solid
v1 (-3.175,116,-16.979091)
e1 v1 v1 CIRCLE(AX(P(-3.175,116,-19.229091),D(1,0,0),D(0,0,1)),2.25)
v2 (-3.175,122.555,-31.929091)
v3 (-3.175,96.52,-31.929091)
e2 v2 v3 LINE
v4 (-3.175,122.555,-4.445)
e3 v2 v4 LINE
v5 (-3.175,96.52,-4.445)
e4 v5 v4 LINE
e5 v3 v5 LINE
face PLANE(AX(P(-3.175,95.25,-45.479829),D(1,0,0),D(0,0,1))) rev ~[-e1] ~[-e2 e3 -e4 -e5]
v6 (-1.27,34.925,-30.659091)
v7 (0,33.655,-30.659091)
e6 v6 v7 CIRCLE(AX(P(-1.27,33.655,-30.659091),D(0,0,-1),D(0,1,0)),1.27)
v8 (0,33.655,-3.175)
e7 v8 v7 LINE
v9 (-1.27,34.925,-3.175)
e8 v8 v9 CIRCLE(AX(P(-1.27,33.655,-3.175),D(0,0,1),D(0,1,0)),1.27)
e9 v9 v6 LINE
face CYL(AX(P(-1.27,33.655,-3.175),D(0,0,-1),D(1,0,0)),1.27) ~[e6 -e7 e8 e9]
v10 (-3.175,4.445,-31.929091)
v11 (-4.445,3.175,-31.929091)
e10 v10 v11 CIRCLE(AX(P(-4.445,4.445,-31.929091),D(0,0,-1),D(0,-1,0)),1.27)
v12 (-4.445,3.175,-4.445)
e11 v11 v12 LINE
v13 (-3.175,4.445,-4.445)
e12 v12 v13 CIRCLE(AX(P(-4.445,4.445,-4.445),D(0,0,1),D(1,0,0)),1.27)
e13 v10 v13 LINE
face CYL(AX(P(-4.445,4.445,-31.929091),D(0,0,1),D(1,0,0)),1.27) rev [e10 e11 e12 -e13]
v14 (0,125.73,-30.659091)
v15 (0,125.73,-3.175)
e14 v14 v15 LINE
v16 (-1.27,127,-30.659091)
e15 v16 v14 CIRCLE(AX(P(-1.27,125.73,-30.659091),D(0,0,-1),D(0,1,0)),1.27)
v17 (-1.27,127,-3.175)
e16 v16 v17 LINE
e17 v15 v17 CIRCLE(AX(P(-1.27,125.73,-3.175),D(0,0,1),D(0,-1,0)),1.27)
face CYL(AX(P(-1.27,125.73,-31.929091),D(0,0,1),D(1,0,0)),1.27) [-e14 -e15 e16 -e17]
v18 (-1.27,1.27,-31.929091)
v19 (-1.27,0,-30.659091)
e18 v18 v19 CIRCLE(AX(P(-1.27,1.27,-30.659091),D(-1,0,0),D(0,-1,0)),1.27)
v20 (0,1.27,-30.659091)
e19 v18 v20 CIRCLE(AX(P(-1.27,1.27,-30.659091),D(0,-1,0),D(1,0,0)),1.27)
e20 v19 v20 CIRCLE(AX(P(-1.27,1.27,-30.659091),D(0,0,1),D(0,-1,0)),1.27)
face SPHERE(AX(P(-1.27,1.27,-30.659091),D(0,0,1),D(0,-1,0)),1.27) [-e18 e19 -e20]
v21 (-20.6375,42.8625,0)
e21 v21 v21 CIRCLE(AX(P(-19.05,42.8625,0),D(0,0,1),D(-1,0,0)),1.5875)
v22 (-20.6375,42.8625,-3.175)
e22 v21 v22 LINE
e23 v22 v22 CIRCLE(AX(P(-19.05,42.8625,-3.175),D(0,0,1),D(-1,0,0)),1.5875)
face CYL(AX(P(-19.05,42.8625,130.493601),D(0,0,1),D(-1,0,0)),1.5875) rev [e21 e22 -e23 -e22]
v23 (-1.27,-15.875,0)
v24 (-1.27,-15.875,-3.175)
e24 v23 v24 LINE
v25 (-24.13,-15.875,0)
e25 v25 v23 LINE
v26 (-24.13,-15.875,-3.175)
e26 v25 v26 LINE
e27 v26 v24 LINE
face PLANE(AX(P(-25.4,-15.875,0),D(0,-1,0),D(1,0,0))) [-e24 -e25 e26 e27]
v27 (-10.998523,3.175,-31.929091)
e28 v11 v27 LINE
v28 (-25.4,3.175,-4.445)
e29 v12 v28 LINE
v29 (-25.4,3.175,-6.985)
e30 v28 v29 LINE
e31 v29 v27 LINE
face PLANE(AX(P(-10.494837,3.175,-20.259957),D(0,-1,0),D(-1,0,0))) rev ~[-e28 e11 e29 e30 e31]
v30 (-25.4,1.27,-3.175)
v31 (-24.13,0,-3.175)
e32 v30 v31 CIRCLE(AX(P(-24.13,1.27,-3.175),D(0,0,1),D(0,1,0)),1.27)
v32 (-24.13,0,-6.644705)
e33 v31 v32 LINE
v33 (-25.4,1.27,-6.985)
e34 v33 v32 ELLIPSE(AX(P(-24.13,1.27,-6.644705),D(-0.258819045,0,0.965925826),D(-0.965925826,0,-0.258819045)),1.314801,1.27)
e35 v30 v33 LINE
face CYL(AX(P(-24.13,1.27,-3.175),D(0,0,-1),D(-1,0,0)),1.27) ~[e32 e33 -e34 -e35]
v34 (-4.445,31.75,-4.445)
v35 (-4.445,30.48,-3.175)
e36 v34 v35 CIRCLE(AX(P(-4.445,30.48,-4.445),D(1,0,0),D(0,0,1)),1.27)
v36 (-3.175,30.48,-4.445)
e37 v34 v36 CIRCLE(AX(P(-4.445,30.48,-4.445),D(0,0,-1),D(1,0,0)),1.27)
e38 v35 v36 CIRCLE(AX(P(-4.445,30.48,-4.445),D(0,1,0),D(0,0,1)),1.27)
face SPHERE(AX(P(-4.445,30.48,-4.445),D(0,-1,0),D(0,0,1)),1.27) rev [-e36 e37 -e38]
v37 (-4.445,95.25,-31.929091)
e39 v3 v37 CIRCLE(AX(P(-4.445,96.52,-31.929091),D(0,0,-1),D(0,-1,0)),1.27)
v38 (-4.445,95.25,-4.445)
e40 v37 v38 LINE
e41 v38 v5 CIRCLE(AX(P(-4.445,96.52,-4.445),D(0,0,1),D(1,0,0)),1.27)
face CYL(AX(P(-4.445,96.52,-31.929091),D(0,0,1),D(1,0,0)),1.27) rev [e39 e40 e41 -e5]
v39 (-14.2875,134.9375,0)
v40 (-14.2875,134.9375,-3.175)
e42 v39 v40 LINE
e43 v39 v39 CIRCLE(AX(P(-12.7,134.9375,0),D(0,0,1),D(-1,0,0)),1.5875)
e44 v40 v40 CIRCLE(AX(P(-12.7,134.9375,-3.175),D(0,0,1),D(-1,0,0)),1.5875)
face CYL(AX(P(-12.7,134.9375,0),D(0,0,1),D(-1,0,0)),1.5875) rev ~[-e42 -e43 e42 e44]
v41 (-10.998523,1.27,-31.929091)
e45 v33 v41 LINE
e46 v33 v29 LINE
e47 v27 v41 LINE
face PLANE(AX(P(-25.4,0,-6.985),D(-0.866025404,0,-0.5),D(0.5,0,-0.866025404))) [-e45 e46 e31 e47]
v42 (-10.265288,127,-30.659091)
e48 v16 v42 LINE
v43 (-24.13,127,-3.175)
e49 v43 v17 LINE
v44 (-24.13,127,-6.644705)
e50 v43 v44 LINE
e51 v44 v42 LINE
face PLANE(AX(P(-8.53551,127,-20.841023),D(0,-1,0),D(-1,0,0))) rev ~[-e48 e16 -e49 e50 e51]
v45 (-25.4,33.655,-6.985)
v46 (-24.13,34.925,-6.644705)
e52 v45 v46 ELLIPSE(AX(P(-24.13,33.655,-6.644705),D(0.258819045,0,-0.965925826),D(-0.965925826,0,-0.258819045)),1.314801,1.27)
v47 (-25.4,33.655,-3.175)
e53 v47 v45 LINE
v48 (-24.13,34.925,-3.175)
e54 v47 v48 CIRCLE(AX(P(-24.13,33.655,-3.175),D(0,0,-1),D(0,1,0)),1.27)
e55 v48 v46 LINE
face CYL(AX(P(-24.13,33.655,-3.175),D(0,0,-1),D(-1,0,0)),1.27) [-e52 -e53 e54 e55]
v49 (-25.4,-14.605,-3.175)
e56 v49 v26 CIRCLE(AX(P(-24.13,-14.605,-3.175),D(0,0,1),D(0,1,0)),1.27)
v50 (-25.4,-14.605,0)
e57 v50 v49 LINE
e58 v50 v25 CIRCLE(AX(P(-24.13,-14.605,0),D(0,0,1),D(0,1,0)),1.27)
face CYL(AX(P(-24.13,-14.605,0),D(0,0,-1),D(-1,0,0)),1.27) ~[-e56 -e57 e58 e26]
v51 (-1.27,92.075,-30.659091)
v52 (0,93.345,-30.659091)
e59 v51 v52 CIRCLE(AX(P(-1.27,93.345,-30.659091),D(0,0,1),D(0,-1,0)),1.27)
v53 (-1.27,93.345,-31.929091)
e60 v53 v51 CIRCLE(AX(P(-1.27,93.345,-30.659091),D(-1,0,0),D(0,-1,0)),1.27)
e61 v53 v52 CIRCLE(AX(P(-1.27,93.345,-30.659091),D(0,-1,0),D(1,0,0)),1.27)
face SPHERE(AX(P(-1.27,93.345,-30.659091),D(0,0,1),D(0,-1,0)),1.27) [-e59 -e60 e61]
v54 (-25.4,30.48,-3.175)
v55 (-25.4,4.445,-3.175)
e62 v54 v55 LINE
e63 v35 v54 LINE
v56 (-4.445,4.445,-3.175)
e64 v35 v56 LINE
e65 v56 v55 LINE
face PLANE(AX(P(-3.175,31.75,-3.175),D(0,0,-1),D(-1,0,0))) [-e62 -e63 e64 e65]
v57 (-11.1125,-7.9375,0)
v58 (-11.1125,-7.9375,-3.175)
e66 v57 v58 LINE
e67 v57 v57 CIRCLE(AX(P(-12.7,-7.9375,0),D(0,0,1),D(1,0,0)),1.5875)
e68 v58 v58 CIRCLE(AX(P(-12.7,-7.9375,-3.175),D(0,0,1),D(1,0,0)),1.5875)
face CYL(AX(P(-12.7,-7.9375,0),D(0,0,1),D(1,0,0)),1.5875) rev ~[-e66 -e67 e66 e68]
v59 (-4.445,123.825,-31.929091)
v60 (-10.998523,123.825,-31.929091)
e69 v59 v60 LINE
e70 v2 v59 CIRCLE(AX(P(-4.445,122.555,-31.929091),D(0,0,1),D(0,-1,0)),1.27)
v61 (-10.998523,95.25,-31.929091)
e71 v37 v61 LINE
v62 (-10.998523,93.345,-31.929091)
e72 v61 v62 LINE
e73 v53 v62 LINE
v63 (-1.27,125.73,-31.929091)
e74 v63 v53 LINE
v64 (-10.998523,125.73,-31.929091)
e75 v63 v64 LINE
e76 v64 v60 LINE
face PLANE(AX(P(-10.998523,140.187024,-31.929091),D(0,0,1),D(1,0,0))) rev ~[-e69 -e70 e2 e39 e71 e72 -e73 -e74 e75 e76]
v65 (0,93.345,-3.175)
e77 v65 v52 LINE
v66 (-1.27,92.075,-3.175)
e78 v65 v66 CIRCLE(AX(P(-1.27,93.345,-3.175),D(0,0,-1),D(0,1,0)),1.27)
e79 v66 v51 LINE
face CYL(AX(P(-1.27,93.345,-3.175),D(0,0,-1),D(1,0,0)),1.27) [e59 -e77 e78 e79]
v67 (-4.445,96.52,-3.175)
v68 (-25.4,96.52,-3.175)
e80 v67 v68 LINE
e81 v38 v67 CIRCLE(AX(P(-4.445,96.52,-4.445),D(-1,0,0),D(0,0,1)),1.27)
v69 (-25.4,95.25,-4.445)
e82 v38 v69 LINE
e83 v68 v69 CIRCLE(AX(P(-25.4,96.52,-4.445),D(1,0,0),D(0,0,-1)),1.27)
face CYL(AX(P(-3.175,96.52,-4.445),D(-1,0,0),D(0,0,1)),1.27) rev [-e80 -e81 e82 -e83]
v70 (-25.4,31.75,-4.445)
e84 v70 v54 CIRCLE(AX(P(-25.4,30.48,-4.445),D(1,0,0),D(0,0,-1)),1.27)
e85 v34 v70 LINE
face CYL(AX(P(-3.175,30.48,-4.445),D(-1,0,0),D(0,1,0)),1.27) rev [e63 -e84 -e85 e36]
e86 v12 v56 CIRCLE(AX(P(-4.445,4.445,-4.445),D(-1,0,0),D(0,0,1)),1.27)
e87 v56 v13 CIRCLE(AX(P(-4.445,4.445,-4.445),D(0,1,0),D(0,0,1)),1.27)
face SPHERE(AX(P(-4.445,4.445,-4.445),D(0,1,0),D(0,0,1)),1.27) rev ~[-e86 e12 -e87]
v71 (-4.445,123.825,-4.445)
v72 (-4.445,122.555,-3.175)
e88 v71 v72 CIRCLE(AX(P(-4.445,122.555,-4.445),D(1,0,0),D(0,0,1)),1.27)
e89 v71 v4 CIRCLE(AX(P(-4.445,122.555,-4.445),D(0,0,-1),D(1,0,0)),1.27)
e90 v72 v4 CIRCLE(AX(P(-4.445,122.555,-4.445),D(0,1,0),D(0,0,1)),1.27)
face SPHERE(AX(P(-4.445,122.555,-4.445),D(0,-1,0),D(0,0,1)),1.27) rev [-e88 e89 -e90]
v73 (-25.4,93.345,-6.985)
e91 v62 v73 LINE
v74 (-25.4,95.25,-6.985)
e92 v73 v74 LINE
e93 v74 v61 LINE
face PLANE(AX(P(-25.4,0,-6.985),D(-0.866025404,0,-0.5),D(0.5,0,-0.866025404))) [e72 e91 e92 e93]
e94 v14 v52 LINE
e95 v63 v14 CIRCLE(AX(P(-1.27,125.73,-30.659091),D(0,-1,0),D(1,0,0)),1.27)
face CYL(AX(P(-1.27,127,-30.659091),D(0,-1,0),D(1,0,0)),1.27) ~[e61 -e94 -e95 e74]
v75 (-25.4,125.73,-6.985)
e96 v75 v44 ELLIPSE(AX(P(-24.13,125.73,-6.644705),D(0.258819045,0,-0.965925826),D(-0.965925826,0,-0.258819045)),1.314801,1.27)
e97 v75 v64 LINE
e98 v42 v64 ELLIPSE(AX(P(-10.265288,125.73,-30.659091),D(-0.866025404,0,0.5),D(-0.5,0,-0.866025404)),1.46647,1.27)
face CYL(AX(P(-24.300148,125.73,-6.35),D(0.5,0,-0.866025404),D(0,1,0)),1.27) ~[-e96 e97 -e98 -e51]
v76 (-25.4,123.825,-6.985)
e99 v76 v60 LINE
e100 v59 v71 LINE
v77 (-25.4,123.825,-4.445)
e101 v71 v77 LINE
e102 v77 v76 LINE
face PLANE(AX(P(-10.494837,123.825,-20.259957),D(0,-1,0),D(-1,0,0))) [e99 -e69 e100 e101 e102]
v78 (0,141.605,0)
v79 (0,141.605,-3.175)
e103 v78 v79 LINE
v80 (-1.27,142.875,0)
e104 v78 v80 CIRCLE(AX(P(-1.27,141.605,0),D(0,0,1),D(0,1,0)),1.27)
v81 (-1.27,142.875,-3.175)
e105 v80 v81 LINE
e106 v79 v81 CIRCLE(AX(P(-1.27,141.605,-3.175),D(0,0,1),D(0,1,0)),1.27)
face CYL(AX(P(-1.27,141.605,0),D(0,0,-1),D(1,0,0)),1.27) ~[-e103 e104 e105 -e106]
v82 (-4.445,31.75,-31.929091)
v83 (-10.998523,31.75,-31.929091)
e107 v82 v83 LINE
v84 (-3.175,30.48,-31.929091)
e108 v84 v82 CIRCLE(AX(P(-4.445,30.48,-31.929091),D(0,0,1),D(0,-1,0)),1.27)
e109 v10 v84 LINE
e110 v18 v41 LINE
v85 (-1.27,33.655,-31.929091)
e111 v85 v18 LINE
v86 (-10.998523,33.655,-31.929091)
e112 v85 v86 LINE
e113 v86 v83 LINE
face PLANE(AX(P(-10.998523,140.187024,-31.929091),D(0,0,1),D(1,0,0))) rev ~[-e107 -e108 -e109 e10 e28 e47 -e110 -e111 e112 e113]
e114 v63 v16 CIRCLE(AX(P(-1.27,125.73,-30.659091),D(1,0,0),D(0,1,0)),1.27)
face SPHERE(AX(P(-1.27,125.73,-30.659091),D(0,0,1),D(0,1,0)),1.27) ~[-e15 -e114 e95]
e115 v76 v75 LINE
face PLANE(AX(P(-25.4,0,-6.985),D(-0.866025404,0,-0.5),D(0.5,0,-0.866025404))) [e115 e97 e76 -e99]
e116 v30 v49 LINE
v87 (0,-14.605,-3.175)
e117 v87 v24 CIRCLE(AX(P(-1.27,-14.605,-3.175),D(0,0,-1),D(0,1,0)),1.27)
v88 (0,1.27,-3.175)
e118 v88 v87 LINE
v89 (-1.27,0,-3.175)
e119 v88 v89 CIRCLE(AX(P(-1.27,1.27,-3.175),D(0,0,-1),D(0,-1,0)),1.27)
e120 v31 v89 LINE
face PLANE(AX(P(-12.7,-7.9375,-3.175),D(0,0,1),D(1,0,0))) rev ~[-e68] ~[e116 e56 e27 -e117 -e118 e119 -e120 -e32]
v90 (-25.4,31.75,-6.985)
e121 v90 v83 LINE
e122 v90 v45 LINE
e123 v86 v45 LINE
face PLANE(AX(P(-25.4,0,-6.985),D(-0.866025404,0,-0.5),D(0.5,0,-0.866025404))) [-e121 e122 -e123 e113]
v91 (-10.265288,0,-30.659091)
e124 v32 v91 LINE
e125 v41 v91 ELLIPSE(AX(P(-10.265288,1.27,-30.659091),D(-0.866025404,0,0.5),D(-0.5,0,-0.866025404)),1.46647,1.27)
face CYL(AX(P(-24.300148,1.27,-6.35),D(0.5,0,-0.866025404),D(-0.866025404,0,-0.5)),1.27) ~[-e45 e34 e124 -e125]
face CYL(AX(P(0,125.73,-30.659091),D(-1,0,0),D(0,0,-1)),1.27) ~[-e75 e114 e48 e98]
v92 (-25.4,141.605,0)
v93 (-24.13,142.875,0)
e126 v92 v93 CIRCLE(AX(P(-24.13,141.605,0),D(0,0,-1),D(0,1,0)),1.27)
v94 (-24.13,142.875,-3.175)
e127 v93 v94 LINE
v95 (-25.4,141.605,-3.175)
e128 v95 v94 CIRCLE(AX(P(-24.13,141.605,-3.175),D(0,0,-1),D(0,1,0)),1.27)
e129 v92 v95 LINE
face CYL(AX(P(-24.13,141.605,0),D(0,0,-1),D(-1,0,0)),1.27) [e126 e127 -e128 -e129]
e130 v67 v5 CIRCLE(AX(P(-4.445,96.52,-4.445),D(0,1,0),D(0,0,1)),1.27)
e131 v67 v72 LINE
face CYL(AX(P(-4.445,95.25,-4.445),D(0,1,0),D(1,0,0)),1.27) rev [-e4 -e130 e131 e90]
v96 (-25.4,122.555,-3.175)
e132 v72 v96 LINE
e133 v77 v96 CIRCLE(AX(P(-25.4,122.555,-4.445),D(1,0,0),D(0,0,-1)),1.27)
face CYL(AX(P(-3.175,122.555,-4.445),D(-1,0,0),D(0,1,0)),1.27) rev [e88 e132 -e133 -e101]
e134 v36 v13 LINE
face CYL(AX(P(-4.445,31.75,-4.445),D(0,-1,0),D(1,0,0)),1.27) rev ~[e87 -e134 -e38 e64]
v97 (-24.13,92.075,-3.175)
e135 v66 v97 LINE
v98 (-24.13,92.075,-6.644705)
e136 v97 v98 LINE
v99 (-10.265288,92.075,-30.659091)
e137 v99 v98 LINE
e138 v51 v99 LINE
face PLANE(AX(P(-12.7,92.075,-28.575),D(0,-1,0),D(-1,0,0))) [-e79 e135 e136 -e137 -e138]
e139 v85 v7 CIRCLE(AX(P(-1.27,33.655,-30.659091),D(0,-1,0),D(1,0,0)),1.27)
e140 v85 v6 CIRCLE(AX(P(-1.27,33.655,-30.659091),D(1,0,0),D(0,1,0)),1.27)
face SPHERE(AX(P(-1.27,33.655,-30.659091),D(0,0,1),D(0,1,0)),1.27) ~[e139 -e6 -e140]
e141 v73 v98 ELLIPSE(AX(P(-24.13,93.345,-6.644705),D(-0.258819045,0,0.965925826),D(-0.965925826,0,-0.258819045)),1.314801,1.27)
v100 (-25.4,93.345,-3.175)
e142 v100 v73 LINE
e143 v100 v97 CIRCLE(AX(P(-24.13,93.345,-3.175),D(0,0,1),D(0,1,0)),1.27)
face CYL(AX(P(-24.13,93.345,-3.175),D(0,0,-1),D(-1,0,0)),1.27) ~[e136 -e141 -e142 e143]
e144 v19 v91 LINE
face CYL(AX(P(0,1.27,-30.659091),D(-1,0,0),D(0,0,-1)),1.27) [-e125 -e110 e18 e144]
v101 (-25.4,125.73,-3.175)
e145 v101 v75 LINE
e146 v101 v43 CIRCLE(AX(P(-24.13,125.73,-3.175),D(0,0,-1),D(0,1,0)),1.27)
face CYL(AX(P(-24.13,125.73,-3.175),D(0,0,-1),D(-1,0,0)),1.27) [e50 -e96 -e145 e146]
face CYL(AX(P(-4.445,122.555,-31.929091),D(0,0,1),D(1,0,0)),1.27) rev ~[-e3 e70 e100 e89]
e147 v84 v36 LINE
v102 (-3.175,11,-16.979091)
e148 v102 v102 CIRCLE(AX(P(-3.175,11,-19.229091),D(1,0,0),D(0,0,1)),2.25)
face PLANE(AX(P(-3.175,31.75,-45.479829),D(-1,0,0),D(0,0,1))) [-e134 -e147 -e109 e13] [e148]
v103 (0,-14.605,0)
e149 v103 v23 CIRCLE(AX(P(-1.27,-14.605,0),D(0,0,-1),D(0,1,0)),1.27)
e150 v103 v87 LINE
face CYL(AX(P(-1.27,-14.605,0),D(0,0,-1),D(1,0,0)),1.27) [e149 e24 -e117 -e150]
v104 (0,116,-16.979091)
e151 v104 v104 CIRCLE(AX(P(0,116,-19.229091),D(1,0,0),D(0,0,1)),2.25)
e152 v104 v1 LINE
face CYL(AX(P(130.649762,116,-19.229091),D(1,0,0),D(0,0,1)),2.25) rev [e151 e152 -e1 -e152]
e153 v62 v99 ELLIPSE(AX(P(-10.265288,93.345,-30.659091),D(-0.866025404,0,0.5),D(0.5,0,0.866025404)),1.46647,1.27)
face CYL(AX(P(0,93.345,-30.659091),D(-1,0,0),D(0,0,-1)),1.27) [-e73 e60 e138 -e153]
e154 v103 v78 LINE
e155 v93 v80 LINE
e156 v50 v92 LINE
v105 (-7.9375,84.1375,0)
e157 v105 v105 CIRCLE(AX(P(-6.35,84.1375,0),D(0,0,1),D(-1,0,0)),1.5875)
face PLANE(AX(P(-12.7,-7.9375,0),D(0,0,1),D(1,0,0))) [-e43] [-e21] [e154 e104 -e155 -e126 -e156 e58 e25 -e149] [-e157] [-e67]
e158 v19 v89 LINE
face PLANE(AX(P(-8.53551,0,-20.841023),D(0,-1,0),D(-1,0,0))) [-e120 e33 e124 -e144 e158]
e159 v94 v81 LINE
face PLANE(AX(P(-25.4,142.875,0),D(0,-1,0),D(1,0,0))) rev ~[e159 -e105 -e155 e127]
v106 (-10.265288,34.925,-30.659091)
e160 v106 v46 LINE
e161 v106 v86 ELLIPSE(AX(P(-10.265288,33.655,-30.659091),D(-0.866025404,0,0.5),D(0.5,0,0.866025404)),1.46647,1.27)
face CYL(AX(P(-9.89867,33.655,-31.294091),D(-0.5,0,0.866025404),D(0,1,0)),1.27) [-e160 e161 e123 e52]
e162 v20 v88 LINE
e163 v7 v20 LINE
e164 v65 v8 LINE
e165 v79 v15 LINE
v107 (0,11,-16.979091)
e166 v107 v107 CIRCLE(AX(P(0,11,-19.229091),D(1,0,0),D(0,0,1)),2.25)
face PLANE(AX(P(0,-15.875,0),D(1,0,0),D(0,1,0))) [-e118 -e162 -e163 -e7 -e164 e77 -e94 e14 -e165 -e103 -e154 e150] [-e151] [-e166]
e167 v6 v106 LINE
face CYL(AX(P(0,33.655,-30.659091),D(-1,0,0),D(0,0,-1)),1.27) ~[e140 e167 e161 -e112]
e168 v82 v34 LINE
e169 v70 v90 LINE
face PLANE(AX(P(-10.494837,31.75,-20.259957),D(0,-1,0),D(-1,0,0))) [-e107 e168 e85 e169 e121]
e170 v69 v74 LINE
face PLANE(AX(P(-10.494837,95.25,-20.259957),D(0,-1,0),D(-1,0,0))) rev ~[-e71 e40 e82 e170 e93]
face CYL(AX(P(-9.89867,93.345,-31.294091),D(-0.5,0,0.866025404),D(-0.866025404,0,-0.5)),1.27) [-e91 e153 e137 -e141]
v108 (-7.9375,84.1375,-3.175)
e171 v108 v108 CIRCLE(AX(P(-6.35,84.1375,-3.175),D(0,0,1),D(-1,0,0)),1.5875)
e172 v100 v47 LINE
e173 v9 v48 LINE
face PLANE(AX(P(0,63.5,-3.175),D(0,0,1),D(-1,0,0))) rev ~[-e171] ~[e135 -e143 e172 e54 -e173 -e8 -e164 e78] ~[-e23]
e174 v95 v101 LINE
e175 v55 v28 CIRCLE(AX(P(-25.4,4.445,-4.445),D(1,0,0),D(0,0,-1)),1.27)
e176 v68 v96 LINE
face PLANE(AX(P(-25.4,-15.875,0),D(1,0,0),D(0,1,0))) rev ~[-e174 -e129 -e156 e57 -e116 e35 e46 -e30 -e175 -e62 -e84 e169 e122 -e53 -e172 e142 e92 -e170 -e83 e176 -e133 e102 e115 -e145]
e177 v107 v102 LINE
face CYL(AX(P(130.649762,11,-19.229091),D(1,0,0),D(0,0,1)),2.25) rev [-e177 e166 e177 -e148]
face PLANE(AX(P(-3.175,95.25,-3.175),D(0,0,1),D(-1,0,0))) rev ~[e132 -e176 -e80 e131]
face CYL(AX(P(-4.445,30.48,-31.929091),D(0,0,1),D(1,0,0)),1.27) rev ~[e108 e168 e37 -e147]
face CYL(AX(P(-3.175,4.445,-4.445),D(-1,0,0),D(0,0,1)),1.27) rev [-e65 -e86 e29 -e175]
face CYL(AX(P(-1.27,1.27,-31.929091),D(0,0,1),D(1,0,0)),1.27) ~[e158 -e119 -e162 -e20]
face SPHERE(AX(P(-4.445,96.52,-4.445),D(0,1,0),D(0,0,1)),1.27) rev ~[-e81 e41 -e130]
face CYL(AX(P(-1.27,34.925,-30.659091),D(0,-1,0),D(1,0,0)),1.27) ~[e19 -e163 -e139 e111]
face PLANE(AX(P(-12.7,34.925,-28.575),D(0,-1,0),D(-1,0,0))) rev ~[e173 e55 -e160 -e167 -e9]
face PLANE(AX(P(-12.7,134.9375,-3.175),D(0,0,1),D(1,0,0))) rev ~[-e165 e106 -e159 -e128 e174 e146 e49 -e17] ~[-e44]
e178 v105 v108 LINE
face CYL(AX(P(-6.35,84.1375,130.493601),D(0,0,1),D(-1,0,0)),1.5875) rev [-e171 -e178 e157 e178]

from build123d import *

# Parameters (mm, degrees)
BOSS_EXTRUDE1_DEPTH     = 127
CUT_EXTRUDE1_START      = -31.75
CUT_EXTRUDE1_DEPTH      = 28.575
CUT_EXTRUDE2_START      = 31.75
CUT_EXTRUDE2_DEPTH      = 28.575
SKETCH3_W               = 25.4
SKETCH3_H               = 50.8
CUT_EXTRUDE4_DEPTH      = 28.575
CUT_EXTRUDE7_DEPTH      = 140.18702407
CUT_EXTRUDE7_DEPTH_BACK = 140.18702407
CUT_EXTRUDE6_DEPTH      = 133.668601113
CUT_EXTRUDE6_DEPTH_BACK = 133.668601113
SKETCH5_R               = 1.5875
CUT_EXTRUDE9_DEPTH      = 133.824762172
CUT_EXTRUDE9_DEPTH_BACK = 133.824762172
SKETCH8_R               = 2.25
SKETCH9_W               = 25.4
SKETCH9_H               = 15.875
SKETCH9_R               = 1.5875
BOSS_EXTRUDE2_DEPTH     = 3.175
FILLET1_R               = 1.27


with BuildPart() as part:
    # Sketch1 → Boss-Extrude1 (new body)
    with BuildSketch(Plane(origin=(0, 0, 0), x_dir=(1, 0, 0), z_dir=(0, 1, 0))):
        Polygon((0, 0), (-25.4, 0), (-25.4, 6.985), (0, 50.979090512), align=None)
    extrude(amount=BOSS_EXTRUDE1_DEPTH)

    # Sketch2 → Cut-Extrude1 (cut)
    with BuildSketch(Plane(origin=(0, 63.5, 0), x_dir=(-1, 0, 0), z_dir=(0, -1, 0)).offset(CUT_EXTRUDE1_START)):
        Polygon((25.4, 6.985), (3.175, 45.479829198), (3.175, 3.175), (25.4, 3.175), align=None)
    extrude(amount=-CUT_EXTRUDE1_DEPTH, mode=Mode.SUBTRACT)

    # Sketch2<2> → Cut-Extrude2 (cut)
    with BuildSketch(Plane(origin=(0, 63.5, 0), x_dir=(-1, 0, 0), z_dir=(0, -1, 0)).offset(CUT_EXTRUDE2_START)):
        Polygon((25.4, 6.985), (3.175, 45.479829198), (3.175, 3.175), (25.4, 3.175), align=None)
    extrude(amount=CUT_EXTRUDE2_DEPTH, mode=Mode.SUBTRACT)

    # Sketch3 → Cut-Extrude4 (cut, symmetric)
    with BuildSketch(Plane(origin=(0, 63.5, 0), x_dir=(-1, 0, 0), z_dir=(0, -1, 0))):
        with Locations((12.7, 28.575)):
            Rectangle(SKETCH3_W, SKETCH3_H)
    extrude(amount=CUT_EXTRUDE4_DEPTH, both=True, mode=Mode.SUBTRACT)

    # Sketch6 → Cut-Extrude7 (cut, two sides: drawn at the far end of the back side and taken through both)
    with BuildSketch(Plane.XZ.offset(-CUT_EXTRUDE7_DEPTH_BACK)):
        Polygon((0, -31.929090512), (0, -50.979090512), (-10.998522628, -31.929090512), align=None)
    extrude(amount=CUT_EXTRUDE7_DEPTH + CUT_EXTRUDE7_DEPTH_BACK, mode=Mode.SUBTRACT)

    # Sketch5 → Cut-Extrude6 (cut, two sides: drawn at the far end of the back side and taken through both)
    with BuildSketch(Plane(origin=(0, 0, -3.175), x_dir=(-1, 0, 0), z_dir=(0, 0, -1)).offset(-CUT_EXTRUDE6_DEPTH_BACK)):
        with Locations((6.35, 84.1375)):
            Circle(SKETCH5_R)
        with Locations((19.05, 42.8625)):
            Circle(SKETCH5_R)
    extrude(amount=CUT_EXTRUDE6_DEPTH + CUT_EXTRUDE6_DEPTH_BACK, mode=Mode.SUBTRACT)

    # Sketch8 → Cut-Extrude9 (cut, two sides: drawn at the far end of the back side and taken through both)
    with BuildSketch(Plane.ZY.offset(3.175).offset(-CUT_EXTRUDE9_DEPTH_BACK)):
        with Locations((-19.229090512, 11)):
            Circle(SKETCH8_R)
        with Locations((-19.229090512, 116)):
            Circle(SKETCH8_R)
    extrude(amount=CUT_EXTRUDE9_DEPTH + CUT_EXTRUDE9_DEPTH_BACK, mode=Mode.SUBTRACT)

    # Sketch9 → Boss-Extrude2 (add)
    # profile 1 of 2: a face of its own
    with BuildSketch(Plane.XY):
        with Locations((-12.7, -7.9375)):
            Rectangle(SKETCH9_W, SKETCH9_H)
        with Locations((-12.7, -7.9375)):
            Circle(SKETCH9_R, mode=Mode.SUBTRACT)
    # profile 2 of 2: a face of its own
    with BuildSketch(Plane.XY):
        with Locations((-12.7, 134.9375)):
            Rectangle(SKETCH9_W, SKETCH9_H)
        with Locations(Location((-12.7, 134.9375, 0), (0, 0, 180))):
            Circle(SKETCH9_R, mode=Mode.SUBTRACT)
    extrude(amount=-BOSS_EXTRUDE2_DEPTH)

    # Fillet1
    fillet1_edges = [part.edges().sort_by_distance(p)[0] for p in [
        (0, 0, -17.552045256),
        (0, -15.875, -1.5875),
        (-25.4, -15.875, -1.5875),
        (-25.4, 127, -5.08),
        (0, 127, -17.552045256),
        (-25.4, 142.875, -1.5875),
        (0, 142.875, -1.5875),
        (-3.175, 109.5375, -3.175),
        (-14.2875, 95.25, -3.175),
        (-14.2875, 123.825, -3.175),
        (-3.175, 123.825, -17.552045256),
        (-3.175, 17.4625, -3.175),
        (-14.2875, 31.75, -3.175),
        (-14.2875, 3.175, -3.175),
        (-25.4, 92.075, -5.08),
        (-25.4, 34.925, -5.08),
        (-18.199261314, 34.925, -19.457045256),
        (-18.199261314, 92.075, -19.457045256),
        (-25.4, 0, -5.08),
        (0, 34.925, -17.552045256),
        (-5.499261314, 34.925, -31.929090512),
        (0, 92.075, -17.552045256),
        (-3.175, 3.175, -17.552045256),
        (-3.175, 31.75, -17.552045256),
        (-3.175, 95.25, -17.552045256),
        (-18.199261314, 0, -19.457045256),
        (-18.199261314, 127, -19.457045256),
        (-5.499261314, 0, -31.929090512),
        (-5.499261314, 127, -31.929090512),
        (-5.499261314, 92.075, -31.929090512),
        (0, 17.4625, -31.929090512),
        (0, 109.5375, -31.929090512),
    ]]
    fillet(fillet1_edges, radius=FILLET1_R)


solid = part.part
